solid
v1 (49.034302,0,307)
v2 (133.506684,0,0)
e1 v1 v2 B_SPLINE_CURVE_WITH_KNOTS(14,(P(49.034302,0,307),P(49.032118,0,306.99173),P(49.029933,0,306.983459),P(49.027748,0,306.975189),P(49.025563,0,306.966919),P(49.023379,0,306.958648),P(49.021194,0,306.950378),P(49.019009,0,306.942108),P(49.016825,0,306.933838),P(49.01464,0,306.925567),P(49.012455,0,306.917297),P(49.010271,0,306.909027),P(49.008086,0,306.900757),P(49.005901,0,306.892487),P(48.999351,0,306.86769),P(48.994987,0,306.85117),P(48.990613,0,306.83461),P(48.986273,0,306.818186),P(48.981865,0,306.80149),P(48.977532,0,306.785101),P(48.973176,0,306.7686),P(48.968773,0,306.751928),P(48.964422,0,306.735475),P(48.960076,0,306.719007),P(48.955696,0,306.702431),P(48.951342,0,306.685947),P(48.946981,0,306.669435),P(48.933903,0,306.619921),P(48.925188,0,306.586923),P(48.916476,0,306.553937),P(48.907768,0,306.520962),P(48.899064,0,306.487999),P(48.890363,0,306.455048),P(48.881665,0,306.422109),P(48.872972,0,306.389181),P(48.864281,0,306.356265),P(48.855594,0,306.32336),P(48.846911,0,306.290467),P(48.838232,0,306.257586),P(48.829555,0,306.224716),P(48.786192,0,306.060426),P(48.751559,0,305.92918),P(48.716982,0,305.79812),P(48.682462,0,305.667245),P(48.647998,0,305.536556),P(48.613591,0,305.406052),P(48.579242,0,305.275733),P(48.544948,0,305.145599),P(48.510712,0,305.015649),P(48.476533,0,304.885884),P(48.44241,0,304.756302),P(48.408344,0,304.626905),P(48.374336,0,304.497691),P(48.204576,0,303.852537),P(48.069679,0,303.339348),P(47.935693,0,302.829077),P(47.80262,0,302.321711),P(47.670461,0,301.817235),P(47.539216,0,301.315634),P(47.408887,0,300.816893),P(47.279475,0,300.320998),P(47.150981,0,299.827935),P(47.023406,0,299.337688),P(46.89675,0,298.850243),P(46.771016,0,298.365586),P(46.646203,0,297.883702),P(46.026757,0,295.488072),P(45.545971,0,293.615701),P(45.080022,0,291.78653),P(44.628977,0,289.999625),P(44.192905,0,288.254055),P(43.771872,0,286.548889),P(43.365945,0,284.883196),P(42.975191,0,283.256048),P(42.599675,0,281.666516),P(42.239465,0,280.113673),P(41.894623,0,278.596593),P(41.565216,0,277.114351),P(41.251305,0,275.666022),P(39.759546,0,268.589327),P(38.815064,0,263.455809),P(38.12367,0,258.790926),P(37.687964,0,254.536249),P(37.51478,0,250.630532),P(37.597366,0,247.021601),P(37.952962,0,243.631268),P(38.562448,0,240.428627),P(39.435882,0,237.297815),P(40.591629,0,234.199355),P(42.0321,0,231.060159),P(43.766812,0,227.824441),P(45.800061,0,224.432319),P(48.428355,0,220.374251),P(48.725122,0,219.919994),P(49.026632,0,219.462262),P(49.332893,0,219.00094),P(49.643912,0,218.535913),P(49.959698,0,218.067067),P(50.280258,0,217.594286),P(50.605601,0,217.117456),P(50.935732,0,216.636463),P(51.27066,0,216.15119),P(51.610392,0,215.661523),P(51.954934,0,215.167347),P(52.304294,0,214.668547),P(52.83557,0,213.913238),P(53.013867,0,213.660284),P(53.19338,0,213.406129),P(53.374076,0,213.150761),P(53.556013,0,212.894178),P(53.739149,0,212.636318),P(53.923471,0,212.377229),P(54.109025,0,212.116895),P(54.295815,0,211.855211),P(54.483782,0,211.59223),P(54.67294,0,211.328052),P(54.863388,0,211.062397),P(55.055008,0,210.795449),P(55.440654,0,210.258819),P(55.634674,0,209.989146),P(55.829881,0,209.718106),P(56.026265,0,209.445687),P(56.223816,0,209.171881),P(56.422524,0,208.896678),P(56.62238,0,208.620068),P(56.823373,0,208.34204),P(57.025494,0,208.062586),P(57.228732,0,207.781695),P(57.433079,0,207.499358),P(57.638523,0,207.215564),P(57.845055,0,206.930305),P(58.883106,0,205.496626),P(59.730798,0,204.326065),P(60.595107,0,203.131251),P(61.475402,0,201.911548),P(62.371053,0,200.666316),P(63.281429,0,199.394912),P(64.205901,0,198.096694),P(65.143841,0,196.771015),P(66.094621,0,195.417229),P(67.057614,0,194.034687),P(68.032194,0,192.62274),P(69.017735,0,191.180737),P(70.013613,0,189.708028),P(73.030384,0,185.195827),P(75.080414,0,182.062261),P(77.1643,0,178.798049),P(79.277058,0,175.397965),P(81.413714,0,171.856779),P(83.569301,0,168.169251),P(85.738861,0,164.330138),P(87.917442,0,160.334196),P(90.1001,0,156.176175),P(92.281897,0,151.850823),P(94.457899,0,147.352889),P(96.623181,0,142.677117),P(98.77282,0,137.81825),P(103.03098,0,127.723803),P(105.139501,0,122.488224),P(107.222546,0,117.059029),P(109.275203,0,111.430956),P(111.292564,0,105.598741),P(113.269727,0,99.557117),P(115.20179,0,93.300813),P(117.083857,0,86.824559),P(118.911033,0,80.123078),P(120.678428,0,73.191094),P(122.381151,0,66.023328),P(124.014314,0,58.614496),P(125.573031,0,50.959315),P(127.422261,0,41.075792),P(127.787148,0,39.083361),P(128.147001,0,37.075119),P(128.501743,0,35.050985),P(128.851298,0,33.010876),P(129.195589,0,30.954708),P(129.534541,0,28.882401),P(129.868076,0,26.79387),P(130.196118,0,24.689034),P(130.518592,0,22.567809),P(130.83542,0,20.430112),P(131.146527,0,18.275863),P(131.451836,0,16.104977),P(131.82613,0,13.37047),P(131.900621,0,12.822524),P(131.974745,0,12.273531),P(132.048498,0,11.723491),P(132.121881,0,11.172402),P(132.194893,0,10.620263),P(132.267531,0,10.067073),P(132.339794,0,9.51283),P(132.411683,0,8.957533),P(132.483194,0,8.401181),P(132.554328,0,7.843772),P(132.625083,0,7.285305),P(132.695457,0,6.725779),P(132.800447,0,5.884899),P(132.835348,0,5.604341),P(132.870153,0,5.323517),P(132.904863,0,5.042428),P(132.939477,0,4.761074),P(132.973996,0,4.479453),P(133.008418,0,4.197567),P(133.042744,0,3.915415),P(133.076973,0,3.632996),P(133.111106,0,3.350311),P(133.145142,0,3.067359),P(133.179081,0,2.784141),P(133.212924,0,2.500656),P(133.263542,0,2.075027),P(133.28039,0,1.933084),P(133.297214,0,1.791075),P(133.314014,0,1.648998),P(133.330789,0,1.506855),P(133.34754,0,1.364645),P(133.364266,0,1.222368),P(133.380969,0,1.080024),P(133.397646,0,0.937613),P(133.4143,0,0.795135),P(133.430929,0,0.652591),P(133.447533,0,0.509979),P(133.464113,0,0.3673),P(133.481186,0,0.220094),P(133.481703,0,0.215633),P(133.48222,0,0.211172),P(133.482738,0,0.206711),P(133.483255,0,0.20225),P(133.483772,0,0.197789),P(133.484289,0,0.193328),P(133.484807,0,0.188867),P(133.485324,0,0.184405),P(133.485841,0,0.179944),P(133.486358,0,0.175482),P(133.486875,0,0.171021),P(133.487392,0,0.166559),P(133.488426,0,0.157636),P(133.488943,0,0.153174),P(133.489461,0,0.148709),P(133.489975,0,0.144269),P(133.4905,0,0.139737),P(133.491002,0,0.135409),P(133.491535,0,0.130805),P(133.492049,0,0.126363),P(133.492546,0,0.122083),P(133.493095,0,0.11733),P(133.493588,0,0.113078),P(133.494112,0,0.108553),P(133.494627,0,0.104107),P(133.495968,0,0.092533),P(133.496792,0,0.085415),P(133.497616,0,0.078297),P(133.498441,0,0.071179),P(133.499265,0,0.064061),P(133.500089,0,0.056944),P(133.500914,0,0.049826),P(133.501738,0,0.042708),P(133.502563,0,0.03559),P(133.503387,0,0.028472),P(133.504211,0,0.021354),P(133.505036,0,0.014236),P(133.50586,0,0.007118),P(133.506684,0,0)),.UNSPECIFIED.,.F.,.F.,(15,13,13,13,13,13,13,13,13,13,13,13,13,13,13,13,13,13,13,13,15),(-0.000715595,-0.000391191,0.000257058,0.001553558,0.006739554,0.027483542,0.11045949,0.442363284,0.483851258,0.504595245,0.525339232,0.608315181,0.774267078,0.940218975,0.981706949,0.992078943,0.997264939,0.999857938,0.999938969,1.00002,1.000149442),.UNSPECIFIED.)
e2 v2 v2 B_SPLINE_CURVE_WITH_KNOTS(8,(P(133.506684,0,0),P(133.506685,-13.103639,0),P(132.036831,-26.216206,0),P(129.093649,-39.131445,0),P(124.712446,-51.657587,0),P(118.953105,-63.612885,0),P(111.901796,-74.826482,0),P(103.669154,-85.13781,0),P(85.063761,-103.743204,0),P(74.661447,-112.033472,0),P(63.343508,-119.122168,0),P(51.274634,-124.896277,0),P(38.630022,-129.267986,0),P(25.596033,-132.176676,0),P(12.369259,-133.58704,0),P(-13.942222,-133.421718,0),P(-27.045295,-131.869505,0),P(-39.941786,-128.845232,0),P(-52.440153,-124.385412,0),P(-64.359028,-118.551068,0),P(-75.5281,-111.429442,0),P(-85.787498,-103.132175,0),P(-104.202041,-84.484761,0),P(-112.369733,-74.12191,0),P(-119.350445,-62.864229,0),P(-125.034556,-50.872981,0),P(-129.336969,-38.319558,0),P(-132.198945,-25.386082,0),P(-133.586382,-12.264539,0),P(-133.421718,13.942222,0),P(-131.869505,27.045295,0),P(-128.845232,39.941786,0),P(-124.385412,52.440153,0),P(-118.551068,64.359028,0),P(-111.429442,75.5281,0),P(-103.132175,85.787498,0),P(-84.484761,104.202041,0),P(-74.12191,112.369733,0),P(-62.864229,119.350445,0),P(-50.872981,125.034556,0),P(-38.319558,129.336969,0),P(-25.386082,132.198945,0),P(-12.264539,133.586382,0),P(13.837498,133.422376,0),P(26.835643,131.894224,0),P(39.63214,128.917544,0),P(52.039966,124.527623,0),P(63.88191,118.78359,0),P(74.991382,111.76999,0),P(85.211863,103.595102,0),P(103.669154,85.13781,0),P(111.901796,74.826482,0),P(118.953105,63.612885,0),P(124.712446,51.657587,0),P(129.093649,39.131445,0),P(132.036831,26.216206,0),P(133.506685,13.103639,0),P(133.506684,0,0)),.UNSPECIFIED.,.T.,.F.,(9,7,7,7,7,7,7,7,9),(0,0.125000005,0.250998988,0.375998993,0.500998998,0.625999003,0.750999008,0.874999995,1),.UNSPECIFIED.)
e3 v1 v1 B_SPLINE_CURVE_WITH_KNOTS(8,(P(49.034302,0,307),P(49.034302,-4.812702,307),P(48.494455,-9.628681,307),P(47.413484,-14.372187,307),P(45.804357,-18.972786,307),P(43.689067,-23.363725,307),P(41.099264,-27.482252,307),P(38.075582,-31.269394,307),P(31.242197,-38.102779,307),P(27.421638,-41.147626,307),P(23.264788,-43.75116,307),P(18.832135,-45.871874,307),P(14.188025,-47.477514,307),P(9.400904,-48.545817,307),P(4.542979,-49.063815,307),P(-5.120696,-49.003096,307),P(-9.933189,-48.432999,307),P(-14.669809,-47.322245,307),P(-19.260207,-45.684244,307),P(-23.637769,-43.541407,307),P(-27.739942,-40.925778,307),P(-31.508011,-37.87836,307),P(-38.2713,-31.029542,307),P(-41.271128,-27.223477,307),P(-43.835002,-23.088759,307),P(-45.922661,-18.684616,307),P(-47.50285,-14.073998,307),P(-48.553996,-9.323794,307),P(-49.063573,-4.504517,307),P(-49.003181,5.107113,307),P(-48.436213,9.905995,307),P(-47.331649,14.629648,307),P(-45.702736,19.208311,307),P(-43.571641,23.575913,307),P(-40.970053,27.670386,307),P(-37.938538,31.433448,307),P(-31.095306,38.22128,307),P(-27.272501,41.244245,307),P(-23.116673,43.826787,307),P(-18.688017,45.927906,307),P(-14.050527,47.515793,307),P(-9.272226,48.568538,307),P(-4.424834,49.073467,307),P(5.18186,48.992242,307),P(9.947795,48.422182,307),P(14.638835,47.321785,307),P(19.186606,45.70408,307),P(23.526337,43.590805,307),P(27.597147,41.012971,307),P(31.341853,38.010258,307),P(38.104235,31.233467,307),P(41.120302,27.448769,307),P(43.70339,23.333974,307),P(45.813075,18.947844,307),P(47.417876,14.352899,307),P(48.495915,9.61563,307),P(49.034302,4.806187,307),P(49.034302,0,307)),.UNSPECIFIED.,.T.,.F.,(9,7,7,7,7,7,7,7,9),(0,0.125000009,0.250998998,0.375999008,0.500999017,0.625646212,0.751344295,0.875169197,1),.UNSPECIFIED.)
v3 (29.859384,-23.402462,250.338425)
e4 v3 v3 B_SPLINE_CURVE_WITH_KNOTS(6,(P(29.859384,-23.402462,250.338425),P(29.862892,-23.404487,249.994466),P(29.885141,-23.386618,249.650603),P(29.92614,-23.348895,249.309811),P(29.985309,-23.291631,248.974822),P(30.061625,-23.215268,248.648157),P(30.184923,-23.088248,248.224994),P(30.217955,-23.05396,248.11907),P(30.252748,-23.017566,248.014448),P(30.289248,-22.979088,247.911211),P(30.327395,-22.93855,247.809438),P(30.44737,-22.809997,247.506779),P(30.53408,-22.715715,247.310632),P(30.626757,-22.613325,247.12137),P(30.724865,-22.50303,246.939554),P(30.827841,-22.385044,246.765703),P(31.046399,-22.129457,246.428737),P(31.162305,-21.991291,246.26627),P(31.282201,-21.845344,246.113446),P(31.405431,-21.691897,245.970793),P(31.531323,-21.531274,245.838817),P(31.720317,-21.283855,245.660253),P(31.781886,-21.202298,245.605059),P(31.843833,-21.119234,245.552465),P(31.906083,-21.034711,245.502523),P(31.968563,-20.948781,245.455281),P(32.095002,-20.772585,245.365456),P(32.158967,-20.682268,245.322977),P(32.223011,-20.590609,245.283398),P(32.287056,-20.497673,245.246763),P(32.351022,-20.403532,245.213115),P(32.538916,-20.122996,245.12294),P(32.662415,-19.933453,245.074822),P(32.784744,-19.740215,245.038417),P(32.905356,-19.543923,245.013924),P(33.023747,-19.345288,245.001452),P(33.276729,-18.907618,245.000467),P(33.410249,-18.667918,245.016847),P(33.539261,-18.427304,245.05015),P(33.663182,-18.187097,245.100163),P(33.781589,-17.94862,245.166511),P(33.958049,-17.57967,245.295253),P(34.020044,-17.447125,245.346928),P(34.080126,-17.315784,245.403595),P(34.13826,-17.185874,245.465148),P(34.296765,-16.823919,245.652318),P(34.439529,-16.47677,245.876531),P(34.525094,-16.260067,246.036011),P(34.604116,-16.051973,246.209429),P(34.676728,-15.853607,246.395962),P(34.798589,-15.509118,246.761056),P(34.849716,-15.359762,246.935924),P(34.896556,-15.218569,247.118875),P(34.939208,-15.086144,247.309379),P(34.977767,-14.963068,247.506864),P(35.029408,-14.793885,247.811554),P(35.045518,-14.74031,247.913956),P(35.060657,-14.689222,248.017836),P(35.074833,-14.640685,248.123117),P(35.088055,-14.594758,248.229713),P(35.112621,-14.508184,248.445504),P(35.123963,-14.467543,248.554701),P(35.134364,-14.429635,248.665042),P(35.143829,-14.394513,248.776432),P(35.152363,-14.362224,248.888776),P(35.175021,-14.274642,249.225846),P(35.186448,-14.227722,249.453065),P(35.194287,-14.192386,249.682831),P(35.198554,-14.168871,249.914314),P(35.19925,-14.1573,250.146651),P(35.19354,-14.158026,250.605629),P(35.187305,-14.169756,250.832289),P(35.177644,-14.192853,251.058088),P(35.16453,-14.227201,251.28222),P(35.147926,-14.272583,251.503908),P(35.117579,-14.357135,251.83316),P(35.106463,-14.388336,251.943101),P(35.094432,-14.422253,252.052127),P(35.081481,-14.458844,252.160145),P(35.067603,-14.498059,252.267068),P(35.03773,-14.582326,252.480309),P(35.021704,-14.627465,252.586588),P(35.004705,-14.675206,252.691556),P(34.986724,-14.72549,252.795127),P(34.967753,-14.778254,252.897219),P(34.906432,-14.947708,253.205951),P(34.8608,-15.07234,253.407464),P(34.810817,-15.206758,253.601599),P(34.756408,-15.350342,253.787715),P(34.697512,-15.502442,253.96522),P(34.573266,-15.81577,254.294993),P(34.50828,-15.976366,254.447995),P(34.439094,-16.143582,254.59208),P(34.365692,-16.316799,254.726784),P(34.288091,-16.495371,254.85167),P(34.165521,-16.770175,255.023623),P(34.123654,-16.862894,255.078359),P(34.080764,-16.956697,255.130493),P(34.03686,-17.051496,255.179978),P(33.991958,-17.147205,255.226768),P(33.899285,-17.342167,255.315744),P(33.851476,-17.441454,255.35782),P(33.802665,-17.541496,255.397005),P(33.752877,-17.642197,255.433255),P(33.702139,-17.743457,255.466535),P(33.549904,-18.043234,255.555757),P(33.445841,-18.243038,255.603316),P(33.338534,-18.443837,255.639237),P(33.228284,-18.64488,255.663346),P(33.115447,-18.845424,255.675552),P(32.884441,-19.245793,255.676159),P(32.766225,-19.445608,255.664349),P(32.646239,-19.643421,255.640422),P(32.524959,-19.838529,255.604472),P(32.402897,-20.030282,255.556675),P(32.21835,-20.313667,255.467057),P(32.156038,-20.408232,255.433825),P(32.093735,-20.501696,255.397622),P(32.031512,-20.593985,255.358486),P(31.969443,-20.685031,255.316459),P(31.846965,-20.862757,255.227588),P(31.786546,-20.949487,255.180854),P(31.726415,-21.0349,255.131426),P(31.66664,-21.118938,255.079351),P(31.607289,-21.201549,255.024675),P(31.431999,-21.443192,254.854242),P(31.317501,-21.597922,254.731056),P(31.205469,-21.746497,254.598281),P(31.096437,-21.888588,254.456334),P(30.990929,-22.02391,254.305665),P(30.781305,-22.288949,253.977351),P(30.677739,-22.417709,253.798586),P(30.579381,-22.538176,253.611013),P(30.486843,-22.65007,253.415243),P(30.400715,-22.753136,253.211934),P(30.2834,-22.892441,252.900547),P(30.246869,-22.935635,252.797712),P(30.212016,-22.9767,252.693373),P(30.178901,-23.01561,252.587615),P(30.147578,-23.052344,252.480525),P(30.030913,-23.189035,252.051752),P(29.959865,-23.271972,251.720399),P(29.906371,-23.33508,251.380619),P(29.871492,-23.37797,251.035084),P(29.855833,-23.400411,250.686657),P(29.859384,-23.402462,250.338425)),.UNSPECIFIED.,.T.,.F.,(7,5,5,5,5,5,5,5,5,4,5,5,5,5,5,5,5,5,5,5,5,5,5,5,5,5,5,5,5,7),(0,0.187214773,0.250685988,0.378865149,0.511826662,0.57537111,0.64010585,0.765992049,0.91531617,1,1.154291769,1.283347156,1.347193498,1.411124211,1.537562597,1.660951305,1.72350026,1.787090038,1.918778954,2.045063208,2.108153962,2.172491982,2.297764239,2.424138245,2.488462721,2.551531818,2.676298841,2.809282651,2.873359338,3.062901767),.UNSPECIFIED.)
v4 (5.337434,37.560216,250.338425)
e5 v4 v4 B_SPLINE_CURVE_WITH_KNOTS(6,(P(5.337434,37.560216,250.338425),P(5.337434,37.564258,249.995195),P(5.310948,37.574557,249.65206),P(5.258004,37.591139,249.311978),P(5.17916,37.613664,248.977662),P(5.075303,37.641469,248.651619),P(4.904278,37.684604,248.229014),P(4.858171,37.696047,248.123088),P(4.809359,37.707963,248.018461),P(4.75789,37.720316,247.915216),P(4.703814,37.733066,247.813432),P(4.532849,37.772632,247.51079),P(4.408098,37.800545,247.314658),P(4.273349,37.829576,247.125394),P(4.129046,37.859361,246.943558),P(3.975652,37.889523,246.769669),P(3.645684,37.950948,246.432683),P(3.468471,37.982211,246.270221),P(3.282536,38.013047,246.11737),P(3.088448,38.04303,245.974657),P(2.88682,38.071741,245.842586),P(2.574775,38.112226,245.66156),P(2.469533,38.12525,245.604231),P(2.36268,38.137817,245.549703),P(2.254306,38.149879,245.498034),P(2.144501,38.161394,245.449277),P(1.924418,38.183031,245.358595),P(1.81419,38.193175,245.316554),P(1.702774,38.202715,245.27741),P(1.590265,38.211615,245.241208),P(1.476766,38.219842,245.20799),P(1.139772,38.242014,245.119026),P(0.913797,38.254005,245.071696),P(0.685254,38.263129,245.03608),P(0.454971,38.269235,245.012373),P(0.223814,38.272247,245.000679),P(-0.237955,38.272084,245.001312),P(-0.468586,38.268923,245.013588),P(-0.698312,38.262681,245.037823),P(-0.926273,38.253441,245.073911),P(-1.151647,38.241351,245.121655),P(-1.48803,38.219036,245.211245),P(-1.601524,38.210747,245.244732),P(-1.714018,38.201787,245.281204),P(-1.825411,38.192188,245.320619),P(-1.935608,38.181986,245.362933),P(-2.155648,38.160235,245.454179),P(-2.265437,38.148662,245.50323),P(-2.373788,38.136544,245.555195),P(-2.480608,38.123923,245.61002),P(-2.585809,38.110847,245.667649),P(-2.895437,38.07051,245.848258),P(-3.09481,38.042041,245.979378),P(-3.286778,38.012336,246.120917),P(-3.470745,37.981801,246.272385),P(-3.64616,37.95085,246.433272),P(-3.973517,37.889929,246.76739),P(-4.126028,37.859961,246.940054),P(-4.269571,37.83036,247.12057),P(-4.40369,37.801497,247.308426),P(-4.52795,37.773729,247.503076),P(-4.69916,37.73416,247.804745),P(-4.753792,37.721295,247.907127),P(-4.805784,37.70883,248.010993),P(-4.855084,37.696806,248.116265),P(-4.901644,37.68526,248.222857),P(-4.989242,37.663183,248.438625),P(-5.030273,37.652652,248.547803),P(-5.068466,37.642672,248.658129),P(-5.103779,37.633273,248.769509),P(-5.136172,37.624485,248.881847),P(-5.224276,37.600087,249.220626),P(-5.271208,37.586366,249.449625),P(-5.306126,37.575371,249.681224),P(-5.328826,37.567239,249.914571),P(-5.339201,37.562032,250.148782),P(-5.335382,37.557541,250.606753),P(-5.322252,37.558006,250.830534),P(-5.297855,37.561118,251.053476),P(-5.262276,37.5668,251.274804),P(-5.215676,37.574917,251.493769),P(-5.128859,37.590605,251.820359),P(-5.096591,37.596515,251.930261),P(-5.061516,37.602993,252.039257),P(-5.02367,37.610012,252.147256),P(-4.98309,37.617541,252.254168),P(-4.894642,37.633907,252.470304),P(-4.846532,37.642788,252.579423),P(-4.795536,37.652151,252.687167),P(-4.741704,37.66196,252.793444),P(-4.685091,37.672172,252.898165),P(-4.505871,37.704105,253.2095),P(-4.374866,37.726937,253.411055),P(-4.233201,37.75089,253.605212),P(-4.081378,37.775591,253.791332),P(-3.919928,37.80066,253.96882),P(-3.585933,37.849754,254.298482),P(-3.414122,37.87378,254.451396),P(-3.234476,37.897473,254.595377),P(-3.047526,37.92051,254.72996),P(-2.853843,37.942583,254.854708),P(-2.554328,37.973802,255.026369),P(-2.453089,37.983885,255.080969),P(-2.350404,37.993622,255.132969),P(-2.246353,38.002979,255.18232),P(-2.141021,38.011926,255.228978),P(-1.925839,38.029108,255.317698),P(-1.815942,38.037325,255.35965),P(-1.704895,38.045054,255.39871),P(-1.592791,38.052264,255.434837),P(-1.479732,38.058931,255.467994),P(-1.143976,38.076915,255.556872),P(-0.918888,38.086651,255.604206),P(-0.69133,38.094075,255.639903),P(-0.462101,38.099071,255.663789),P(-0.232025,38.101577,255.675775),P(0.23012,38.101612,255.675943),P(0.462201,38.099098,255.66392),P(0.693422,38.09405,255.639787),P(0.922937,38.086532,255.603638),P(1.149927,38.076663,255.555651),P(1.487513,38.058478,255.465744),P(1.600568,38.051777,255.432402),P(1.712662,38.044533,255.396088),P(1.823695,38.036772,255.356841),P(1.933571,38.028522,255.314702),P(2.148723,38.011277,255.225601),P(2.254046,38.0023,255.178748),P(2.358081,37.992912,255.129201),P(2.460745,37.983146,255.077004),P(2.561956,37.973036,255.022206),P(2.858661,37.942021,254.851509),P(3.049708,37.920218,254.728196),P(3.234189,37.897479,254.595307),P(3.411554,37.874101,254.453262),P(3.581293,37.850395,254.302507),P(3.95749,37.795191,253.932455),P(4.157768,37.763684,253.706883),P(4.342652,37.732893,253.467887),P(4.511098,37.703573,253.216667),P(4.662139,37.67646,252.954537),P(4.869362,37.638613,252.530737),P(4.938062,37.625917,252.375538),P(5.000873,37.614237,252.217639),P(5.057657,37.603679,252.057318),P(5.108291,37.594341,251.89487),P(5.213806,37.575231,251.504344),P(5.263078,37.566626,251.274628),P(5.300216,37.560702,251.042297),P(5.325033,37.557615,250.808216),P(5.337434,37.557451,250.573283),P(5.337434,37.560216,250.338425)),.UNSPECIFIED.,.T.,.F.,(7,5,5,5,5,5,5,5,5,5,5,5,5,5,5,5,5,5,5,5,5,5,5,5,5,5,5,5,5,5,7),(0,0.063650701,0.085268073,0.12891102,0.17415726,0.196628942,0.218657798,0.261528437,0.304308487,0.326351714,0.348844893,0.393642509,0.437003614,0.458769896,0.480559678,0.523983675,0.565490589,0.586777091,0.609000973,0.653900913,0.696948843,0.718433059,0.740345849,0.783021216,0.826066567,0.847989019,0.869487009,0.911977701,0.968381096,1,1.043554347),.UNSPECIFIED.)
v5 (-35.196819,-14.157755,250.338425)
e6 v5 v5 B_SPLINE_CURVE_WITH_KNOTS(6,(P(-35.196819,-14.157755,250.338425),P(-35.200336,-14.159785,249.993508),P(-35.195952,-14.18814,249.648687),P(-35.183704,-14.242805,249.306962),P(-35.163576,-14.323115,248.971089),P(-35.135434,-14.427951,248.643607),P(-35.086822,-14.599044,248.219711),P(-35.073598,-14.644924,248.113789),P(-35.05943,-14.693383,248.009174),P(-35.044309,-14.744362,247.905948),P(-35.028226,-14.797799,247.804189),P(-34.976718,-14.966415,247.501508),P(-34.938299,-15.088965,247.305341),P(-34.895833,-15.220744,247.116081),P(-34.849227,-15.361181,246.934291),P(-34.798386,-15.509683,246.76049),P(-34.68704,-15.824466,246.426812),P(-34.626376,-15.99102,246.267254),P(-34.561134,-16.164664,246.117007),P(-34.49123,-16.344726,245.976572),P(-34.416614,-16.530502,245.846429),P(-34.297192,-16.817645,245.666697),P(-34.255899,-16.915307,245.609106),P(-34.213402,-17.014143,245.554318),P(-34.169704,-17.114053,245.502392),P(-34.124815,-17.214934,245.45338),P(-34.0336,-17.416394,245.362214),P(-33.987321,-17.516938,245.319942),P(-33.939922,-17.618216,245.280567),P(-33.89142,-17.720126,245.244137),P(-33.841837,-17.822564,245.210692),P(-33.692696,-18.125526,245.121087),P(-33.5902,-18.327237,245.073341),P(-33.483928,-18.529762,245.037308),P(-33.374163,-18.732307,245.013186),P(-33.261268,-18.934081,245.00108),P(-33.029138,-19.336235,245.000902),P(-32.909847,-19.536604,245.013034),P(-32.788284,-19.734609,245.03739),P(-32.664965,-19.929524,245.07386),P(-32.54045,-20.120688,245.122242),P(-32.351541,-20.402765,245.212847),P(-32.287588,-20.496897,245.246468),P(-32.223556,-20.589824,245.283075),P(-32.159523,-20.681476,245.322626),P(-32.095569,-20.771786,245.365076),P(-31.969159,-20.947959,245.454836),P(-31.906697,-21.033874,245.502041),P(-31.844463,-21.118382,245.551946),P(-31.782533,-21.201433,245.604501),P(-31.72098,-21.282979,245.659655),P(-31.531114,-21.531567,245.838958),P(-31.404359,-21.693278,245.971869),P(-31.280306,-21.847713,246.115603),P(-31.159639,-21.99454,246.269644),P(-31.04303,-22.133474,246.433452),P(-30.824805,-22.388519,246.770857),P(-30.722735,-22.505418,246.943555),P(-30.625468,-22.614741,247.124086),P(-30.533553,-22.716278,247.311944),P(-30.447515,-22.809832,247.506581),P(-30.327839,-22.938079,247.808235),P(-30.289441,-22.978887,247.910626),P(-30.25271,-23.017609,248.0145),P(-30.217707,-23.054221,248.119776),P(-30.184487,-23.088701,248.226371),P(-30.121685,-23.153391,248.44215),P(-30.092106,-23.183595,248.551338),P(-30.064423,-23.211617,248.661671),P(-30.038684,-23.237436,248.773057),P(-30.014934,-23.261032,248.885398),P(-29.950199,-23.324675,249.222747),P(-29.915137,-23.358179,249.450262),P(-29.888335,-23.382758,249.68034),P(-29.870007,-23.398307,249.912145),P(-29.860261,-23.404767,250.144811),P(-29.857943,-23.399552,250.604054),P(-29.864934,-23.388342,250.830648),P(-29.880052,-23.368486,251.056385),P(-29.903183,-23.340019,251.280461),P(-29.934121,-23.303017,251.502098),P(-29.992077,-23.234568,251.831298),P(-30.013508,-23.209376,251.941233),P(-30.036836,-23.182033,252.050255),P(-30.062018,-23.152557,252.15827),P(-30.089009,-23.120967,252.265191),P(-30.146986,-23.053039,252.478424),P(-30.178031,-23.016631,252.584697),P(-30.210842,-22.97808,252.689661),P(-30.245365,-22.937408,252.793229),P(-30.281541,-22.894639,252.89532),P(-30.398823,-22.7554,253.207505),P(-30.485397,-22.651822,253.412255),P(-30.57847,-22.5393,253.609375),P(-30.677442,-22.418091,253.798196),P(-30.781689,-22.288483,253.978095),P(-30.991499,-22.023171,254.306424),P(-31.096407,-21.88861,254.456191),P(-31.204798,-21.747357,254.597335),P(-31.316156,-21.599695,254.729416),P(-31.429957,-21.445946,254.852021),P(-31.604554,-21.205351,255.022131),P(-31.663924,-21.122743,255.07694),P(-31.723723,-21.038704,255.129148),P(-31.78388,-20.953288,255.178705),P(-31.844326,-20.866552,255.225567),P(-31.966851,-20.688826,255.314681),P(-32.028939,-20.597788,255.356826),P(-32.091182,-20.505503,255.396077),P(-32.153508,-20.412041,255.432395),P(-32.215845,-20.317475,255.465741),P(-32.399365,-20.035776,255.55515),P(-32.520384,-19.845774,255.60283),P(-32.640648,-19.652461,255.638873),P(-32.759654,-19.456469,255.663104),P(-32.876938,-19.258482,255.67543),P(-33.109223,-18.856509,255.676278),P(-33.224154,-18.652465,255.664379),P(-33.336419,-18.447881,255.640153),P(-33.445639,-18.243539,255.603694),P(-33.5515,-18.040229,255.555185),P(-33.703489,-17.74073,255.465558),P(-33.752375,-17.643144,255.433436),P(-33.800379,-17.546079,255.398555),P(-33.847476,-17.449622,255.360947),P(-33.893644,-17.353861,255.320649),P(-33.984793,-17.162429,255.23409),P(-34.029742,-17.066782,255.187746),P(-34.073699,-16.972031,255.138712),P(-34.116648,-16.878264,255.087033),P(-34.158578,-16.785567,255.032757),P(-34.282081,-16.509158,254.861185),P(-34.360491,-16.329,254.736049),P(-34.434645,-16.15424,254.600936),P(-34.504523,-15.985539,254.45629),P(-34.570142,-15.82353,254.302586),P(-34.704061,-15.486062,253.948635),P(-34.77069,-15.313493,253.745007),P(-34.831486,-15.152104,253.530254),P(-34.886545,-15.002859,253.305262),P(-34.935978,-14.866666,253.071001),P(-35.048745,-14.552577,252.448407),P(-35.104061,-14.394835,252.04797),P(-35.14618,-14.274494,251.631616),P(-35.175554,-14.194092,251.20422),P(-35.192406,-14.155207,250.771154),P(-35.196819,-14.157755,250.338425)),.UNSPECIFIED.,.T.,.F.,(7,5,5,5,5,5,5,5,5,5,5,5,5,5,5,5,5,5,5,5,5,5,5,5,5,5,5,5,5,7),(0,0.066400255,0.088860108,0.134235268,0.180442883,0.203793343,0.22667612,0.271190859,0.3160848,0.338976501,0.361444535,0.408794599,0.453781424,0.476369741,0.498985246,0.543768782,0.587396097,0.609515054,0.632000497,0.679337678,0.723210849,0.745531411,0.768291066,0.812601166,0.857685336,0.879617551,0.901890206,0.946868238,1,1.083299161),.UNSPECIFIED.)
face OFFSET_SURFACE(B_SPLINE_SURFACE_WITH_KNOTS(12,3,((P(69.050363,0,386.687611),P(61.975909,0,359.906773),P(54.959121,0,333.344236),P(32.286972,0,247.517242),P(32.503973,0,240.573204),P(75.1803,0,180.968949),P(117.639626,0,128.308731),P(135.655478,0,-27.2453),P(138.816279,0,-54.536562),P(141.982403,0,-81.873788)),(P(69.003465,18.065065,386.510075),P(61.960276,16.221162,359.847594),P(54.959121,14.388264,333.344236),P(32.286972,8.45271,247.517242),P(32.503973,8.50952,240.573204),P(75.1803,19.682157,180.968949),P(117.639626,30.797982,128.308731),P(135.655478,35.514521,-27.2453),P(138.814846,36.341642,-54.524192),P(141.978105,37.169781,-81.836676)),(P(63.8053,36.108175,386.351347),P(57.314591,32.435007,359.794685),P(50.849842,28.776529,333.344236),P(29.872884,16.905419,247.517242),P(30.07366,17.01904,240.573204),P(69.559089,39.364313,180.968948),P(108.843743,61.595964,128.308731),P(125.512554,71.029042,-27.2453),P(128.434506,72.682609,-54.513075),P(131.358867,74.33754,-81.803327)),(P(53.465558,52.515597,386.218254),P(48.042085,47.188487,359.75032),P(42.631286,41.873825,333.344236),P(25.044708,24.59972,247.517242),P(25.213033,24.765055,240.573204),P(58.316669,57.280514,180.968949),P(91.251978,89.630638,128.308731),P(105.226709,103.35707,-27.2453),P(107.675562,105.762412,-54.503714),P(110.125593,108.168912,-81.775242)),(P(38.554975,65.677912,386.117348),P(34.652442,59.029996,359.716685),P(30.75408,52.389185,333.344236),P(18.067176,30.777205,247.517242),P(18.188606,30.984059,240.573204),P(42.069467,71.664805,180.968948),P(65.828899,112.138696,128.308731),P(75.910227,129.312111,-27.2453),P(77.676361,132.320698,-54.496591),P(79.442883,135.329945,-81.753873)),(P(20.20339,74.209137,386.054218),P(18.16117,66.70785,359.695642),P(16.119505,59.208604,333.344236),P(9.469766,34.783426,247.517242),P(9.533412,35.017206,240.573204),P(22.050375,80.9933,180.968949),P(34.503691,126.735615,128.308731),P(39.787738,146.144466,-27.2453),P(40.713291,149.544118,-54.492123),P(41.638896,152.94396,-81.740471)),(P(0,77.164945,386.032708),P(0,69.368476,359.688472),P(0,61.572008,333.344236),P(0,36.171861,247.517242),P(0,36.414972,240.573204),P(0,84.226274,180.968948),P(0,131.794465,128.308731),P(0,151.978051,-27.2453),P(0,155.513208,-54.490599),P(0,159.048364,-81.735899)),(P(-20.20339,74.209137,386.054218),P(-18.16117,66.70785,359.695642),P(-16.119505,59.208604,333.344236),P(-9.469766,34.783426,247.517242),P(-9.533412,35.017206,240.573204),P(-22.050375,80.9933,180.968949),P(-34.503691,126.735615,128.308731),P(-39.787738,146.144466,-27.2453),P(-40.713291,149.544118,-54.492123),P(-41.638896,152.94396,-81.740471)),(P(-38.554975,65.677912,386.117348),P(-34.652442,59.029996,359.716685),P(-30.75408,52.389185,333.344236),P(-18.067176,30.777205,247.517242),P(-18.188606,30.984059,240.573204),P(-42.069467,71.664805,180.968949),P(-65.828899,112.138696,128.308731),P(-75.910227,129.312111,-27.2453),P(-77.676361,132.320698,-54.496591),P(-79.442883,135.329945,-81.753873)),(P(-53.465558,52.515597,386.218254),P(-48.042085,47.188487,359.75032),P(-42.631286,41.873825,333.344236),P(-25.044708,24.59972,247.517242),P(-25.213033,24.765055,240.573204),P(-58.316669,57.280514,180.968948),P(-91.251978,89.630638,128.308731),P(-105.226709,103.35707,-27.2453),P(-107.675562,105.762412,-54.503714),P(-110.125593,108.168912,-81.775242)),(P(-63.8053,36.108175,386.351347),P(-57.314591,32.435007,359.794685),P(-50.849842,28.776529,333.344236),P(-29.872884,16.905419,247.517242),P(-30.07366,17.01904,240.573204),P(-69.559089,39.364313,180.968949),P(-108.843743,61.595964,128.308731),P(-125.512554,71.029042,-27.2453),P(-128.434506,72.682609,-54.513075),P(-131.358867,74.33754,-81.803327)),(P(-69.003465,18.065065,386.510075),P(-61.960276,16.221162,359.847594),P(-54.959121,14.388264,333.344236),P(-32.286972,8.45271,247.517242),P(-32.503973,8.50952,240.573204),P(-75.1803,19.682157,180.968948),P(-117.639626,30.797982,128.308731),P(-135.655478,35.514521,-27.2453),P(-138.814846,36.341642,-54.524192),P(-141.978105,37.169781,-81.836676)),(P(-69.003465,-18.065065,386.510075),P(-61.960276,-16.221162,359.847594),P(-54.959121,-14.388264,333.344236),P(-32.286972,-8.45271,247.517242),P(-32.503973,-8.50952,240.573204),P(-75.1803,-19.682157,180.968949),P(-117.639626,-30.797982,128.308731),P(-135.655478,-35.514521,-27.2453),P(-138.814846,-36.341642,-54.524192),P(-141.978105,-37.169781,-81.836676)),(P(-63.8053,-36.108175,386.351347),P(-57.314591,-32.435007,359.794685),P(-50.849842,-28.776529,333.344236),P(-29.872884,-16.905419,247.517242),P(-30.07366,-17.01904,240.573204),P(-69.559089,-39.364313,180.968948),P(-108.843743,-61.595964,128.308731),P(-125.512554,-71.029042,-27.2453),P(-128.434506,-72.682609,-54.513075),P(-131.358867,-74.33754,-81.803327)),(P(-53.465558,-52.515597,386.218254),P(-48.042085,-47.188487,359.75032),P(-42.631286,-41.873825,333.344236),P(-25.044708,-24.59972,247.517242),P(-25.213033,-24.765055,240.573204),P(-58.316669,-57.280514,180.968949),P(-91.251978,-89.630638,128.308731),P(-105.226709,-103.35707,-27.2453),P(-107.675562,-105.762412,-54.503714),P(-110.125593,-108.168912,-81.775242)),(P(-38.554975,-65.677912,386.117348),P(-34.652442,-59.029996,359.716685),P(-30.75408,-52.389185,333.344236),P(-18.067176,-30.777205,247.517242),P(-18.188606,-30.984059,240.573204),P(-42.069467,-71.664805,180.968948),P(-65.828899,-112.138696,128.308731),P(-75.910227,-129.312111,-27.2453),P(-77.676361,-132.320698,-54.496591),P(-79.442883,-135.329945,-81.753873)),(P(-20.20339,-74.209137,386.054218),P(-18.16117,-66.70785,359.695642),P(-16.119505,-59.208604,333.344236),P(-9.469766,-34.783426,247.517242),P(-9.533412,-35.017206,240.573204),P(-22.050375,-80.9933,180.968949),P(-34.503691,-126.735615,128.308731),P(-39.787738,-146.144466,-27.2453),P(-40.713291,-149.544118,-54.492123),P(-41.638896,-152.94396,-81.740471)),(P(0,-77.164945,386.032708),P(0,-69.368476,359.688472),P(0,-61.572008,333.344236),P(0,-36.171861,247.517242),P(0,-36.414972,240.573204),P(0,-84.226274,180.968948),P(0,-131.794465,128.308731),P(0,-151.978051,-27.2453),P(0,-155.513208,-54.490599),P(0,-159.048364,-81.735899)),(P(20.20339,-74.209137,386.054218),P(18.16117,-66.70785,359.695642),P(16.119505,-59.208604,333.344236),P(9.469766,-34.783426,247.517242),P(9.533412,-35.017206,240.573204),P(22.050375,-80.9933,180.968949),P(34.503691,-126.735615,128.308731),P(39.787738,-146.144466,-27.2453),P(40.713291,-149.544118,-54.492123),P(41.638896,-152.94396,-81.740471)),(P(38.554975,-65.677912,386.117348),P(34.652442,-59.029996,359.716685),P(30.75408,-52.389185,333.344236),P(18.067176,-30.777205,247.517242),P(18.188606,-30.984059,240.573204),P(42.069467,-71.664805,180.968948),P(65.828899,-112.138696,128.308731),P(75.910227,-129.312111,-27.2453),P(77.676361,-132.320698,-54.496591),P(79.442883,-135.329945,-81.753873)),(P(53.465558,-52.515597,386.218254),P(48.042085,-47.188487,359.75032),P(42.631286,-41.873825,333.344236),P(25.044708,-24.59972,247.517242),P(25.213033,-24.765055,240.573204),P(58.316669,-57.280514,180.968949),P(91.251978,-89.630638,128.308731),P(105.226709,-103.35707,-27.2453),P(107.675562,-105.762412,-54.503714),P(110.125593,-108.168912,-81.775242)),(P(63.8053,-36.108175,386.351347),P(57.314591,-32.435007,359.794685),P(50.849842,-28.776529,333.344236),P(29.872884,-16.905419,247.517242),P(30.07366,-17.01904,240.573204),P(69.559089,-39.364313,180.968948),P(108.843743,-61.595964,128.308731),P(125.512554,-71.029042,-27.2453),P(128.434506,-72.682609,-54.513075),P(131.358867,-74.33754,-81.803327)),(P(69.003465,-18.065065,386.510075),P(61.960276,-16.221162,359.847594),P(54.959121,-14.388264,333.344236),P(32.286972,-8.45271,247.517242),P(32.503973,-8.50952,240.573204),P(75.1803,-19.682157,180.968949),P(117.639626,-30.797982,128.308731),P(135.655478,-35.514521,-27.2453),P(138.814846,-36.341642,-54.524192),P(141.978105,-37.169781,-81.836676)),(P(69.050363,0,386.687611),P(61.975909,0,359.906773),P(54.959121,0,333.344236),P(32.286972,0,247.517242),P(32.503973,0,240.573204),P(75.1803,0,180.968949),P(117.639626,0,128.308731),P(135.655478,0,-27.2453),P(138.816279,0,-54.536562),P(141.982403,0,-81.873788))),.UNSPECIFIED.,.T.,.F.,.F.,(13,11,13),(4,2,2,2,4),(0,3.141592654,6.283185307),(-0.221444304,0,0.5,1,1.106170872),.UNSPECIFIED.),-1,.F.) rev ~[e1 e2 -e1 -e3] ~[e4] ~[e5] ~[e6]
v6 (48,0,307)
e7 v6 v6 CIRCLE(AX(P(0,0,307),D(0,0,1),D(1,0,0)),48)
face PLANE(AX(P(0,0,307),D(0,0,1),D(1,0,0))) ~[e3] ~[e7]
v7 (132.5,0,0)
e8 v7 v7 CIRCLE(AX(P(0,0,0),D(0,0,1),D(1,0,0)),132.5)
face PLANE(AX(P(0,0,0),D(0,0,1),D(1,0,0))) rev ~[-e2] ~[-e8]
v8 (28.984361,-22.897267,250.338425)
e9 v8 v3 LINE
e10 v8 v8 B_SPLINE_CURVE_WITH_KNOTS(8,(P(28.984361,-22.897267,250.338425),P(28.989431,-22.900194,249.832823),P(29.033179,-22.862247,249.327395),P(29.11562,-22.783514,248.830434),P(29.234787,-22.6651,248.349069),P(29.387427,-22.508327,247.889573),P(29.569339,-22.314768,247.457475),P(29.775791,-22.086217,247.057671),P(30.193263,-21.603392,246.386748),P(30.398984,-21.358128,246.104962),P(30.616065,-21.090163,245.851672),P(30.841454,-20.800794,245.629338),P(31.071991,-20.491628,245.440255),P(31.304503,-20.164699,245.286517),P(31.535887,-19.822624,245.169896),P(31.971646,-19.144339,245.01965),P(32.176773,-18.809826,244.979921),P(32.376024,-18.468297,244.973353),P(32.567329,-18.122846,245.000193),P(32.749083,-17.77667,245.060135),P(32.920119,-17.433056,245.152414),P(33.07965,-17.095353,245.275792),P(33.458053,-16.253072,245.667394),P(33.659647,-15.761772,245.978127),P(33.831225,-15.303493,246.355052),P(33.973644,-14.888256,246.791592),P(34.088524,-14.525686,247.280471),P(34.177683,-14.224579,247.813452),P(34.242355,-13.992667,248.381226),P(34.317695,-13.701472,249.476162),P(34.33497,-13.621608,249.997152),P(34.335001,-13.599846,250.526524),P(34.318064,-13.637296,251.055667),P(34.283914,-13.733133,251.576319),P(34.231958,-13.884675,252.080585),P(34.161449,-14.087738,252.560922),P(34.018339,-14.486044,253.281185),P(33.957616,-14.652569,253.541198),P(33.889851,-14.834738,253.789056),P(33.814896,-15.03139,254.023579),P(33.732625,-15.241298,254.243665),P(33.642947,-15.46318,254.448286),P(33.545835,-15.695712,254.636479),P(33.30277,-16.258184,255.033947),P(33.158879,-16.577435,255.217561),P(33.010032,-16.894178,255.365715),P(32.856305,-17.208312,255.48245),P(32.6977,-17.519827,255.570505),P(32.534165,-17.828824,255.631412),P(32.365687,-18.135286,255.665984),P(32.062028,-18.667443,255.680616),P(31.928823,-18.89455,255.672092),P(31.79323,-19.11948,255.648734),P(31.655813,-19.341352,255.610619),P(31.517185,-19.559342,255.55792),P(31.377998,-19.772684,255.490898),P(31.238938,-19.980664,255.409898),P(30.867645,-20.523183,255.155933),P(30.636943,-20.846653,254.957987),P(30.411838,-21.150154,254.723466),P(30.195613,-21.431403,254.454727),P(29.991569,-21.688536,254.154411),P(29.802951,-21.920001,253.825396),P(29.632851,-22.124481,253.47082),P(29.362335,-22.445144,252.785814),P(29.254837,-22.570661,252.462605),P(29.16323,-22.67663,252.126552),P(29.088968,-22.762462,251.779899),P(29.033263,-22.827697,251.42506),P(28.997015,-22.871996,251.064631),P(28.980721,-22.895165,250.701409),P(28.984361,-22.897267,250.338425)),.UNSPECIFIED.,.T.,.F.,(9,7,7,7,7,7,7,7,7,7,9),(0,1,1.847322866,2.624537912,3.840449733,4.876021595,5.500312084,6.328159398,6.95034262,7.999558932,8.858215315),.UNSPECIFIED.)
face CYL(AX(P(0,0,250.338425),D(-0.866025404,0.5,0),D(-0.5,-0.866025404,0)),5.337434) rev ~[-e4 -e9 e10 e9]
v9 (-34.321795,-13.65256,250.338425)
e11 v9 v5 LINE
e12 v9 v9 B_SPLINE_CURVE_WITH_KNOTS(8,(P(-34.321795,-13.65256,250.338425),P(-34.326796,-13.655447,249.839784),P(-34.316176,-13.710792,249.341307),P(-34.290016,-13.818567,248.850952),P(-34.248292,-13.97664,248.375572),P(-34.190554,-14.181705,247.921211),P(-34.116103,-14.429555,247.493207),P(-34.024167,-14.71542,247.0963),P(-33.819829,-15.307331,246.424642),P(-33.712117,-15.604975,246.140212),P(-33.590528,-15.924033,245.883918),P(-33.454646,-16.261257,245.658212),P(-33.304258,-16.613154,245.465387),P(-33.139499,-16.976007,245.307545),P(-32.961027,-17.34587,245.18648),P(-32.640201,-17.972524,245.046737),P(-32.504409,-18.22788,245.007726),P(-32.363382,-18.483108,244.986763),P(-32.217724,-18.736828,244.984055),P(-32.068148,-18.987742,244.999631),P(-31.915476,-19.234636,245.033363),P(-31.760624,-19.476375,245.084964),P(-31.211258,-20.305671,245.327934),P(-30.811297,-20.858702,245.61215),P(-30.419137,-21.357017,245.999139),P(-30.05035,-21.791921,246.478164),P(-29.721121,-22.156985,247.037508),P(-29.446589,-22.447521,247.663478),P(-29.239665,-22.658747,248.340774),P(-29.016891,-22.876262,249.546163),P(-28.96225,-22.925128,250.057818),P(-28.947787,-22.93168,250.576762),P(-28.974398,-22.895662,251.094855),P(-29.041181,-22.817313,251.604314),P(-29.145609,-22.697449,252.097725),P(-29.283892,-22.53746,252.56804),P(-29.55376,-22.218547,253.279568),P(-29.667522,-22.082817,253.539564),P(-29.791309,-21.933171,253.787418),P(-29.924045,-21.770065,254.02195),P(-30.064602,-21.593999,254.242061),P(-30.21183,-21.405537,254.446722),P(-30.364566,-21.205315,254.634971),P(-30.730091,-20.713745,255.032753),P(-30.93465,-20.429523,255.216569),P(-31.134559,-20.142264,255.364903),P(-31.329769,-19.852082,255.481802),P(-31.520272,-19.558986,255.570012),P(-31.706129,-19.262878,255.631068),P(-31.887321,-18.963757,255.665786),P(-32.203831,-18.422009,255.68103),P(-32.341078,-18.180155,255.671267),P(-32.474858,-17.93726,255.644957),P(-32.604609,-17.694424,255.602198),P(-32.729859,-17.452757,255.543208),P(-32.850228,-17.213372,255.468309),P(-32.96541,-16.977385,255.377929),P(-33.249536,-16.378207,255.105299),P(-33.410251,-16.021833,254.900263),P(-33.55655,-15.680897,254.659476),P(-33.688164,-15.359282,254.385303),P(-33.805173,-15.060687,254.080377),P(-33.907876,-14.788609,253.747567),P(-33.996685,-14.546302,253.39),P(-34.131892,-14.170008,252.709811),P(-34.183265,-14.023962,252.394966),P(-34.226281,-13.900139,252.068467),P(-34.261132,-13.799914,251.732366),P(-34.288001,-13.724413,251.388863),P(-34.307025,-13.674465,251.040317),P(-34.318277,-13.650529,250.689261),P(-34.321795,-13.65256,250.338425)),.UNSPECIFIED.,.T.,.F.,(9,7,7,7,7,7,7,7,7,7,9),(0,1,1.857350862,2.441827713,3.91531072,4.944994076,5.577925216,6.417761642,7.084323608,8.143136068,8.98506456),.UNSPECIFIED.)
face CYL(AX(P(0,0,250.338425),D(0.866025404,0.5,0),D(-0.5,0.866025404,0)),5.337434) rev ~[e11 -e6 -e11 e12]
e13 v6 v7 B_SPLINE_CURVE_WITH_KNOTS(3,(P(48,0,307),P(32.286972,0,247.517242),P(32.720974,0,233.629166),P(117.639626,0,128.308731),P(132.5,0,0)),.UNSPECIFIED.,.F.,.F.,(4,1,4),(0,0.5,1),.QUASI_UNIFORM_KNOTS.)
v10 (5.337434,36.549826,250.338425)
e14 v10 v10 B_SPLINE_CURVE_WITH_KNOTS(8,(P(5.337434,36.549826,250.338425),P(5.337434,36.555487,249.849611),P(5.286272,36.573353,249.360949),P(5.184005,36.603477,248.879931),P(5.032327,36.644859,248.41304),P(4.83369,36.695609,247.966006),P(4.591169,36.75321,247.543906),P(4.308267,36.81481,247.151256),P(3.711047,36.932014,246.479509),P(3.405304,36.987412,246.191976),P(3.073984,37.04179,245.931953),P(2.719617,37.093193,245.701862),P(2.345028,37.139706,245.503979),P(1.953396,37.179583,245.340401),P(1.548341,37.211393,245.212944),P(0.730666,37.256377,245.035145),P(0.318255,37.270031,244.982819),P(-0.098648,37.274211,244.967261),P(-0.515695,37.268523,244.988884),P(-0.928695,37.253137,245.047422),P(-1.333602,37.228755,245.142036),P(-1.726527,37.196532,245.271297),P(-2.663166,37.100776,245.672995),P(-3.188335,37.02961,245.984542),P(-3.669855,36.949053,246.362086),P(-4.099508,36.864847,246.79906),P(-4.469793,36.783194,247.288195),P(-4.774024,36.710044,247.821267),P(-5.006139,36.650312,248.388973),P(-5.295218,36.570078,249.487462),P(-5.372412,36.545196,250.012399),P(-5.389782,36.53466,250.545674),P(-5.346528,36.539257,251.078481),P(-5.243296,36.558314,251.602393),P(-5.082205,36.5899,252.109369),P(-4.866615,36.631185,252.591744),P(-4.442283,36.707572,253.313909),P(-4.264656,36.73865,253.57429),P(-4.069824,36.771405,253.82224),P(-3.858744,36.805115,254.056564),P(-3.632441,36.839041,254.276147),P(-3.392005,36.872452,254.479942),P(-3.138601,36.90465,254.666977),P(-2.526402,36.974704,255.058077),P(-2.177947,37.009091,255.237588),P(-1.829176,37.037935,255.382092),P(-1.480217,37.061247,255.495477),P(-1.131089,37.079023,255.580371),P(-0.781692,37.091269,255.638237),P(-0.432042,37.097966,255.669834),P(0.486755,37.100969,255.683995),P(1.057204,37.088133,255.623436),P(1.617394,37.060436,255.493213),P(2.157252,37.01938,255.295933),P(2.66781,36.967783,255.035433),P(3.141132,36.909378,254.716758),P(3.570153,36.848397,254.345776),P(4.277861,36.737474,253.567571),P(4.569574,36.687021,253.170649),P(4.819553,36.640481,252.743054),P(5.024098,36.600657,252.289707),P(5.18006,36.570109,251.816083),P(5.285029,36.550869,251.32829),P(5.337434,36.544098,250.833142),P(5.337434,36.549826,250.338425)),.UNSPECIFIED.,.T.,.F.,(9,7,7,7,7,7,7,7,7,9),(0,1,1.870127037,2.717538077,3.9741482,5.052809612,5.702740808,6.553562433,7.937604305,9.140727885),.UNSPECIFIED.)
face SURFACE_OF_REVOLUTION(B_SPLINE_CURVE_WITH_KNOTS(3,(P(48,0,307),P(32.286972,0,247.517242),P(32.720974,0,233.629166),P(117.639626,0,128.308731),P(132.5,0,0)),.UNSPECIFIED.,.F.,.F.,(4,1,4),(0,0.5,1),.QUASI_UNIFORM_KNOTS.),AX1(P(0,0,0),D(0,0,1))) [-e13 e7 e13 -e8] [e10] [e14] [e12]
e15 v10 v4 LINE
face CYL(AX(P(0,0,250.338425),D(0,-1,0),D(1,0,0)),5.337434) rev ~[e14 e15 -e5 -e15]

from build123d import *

# Parameters (mm, degrees)
THICKNESS_T        = 1
SKETCH001_R        = 5.337434
POCKET_DEPTH       = 1106.834523
POLARPATTERN_COUNT = 3


with BuildPart() as part:
    # Sketch → Revolution (revolve)
    with BuildSketch(Plane.XZ):
        with BuildLine():
            Line((0, 0), (0, 307))
            Line((0, 307), (48, 307))
            add(Edge.make_bspline(
                [(48, 307), (32.286972, 247.517242), (32.720974, 233.629166), (117.639626, 128.308731), (132.5, 0)],
                knots=[0, 0, 0, 0, 0.5, 1, 1, 1, 1], degree=3))
            Line((132.5, 0), (0, 0))
        make_face()
    revolve(axis=Axis((0, 0, 0), (0, 0, 1)))

    # Thickness
    thickness_openings = [part.faces().sort_by_distance(p)[0] for p in [
        (0, 0, 0),
        (0, 0, 307),
    ]]
    offset(amount=THICKNESS_T, openings=thickness_openings)

    # Sketch001 → Pocket (cut, through all)
    with BuildSketch(Plane.XZ):
        with Locations((0, 250.338425)):
            Circle(SKETCH001_R)
    pocket = extrude(amount=-POCKET_DEPTH, mode=Mode.SUBTRACT)

    # PolarPattern: Pocket ×3 about axis
    polarpattern_axis = Axis((0, 0, 0), (0, 0, 1))
    for i in range(1, POLARPATTERN_COUNT):
        add(pocket.rotate(polarpattern_axis, i * 360 / POLARPATTERN_COUNT), mode=Mode.SUBTRACT)


solid = part.part
